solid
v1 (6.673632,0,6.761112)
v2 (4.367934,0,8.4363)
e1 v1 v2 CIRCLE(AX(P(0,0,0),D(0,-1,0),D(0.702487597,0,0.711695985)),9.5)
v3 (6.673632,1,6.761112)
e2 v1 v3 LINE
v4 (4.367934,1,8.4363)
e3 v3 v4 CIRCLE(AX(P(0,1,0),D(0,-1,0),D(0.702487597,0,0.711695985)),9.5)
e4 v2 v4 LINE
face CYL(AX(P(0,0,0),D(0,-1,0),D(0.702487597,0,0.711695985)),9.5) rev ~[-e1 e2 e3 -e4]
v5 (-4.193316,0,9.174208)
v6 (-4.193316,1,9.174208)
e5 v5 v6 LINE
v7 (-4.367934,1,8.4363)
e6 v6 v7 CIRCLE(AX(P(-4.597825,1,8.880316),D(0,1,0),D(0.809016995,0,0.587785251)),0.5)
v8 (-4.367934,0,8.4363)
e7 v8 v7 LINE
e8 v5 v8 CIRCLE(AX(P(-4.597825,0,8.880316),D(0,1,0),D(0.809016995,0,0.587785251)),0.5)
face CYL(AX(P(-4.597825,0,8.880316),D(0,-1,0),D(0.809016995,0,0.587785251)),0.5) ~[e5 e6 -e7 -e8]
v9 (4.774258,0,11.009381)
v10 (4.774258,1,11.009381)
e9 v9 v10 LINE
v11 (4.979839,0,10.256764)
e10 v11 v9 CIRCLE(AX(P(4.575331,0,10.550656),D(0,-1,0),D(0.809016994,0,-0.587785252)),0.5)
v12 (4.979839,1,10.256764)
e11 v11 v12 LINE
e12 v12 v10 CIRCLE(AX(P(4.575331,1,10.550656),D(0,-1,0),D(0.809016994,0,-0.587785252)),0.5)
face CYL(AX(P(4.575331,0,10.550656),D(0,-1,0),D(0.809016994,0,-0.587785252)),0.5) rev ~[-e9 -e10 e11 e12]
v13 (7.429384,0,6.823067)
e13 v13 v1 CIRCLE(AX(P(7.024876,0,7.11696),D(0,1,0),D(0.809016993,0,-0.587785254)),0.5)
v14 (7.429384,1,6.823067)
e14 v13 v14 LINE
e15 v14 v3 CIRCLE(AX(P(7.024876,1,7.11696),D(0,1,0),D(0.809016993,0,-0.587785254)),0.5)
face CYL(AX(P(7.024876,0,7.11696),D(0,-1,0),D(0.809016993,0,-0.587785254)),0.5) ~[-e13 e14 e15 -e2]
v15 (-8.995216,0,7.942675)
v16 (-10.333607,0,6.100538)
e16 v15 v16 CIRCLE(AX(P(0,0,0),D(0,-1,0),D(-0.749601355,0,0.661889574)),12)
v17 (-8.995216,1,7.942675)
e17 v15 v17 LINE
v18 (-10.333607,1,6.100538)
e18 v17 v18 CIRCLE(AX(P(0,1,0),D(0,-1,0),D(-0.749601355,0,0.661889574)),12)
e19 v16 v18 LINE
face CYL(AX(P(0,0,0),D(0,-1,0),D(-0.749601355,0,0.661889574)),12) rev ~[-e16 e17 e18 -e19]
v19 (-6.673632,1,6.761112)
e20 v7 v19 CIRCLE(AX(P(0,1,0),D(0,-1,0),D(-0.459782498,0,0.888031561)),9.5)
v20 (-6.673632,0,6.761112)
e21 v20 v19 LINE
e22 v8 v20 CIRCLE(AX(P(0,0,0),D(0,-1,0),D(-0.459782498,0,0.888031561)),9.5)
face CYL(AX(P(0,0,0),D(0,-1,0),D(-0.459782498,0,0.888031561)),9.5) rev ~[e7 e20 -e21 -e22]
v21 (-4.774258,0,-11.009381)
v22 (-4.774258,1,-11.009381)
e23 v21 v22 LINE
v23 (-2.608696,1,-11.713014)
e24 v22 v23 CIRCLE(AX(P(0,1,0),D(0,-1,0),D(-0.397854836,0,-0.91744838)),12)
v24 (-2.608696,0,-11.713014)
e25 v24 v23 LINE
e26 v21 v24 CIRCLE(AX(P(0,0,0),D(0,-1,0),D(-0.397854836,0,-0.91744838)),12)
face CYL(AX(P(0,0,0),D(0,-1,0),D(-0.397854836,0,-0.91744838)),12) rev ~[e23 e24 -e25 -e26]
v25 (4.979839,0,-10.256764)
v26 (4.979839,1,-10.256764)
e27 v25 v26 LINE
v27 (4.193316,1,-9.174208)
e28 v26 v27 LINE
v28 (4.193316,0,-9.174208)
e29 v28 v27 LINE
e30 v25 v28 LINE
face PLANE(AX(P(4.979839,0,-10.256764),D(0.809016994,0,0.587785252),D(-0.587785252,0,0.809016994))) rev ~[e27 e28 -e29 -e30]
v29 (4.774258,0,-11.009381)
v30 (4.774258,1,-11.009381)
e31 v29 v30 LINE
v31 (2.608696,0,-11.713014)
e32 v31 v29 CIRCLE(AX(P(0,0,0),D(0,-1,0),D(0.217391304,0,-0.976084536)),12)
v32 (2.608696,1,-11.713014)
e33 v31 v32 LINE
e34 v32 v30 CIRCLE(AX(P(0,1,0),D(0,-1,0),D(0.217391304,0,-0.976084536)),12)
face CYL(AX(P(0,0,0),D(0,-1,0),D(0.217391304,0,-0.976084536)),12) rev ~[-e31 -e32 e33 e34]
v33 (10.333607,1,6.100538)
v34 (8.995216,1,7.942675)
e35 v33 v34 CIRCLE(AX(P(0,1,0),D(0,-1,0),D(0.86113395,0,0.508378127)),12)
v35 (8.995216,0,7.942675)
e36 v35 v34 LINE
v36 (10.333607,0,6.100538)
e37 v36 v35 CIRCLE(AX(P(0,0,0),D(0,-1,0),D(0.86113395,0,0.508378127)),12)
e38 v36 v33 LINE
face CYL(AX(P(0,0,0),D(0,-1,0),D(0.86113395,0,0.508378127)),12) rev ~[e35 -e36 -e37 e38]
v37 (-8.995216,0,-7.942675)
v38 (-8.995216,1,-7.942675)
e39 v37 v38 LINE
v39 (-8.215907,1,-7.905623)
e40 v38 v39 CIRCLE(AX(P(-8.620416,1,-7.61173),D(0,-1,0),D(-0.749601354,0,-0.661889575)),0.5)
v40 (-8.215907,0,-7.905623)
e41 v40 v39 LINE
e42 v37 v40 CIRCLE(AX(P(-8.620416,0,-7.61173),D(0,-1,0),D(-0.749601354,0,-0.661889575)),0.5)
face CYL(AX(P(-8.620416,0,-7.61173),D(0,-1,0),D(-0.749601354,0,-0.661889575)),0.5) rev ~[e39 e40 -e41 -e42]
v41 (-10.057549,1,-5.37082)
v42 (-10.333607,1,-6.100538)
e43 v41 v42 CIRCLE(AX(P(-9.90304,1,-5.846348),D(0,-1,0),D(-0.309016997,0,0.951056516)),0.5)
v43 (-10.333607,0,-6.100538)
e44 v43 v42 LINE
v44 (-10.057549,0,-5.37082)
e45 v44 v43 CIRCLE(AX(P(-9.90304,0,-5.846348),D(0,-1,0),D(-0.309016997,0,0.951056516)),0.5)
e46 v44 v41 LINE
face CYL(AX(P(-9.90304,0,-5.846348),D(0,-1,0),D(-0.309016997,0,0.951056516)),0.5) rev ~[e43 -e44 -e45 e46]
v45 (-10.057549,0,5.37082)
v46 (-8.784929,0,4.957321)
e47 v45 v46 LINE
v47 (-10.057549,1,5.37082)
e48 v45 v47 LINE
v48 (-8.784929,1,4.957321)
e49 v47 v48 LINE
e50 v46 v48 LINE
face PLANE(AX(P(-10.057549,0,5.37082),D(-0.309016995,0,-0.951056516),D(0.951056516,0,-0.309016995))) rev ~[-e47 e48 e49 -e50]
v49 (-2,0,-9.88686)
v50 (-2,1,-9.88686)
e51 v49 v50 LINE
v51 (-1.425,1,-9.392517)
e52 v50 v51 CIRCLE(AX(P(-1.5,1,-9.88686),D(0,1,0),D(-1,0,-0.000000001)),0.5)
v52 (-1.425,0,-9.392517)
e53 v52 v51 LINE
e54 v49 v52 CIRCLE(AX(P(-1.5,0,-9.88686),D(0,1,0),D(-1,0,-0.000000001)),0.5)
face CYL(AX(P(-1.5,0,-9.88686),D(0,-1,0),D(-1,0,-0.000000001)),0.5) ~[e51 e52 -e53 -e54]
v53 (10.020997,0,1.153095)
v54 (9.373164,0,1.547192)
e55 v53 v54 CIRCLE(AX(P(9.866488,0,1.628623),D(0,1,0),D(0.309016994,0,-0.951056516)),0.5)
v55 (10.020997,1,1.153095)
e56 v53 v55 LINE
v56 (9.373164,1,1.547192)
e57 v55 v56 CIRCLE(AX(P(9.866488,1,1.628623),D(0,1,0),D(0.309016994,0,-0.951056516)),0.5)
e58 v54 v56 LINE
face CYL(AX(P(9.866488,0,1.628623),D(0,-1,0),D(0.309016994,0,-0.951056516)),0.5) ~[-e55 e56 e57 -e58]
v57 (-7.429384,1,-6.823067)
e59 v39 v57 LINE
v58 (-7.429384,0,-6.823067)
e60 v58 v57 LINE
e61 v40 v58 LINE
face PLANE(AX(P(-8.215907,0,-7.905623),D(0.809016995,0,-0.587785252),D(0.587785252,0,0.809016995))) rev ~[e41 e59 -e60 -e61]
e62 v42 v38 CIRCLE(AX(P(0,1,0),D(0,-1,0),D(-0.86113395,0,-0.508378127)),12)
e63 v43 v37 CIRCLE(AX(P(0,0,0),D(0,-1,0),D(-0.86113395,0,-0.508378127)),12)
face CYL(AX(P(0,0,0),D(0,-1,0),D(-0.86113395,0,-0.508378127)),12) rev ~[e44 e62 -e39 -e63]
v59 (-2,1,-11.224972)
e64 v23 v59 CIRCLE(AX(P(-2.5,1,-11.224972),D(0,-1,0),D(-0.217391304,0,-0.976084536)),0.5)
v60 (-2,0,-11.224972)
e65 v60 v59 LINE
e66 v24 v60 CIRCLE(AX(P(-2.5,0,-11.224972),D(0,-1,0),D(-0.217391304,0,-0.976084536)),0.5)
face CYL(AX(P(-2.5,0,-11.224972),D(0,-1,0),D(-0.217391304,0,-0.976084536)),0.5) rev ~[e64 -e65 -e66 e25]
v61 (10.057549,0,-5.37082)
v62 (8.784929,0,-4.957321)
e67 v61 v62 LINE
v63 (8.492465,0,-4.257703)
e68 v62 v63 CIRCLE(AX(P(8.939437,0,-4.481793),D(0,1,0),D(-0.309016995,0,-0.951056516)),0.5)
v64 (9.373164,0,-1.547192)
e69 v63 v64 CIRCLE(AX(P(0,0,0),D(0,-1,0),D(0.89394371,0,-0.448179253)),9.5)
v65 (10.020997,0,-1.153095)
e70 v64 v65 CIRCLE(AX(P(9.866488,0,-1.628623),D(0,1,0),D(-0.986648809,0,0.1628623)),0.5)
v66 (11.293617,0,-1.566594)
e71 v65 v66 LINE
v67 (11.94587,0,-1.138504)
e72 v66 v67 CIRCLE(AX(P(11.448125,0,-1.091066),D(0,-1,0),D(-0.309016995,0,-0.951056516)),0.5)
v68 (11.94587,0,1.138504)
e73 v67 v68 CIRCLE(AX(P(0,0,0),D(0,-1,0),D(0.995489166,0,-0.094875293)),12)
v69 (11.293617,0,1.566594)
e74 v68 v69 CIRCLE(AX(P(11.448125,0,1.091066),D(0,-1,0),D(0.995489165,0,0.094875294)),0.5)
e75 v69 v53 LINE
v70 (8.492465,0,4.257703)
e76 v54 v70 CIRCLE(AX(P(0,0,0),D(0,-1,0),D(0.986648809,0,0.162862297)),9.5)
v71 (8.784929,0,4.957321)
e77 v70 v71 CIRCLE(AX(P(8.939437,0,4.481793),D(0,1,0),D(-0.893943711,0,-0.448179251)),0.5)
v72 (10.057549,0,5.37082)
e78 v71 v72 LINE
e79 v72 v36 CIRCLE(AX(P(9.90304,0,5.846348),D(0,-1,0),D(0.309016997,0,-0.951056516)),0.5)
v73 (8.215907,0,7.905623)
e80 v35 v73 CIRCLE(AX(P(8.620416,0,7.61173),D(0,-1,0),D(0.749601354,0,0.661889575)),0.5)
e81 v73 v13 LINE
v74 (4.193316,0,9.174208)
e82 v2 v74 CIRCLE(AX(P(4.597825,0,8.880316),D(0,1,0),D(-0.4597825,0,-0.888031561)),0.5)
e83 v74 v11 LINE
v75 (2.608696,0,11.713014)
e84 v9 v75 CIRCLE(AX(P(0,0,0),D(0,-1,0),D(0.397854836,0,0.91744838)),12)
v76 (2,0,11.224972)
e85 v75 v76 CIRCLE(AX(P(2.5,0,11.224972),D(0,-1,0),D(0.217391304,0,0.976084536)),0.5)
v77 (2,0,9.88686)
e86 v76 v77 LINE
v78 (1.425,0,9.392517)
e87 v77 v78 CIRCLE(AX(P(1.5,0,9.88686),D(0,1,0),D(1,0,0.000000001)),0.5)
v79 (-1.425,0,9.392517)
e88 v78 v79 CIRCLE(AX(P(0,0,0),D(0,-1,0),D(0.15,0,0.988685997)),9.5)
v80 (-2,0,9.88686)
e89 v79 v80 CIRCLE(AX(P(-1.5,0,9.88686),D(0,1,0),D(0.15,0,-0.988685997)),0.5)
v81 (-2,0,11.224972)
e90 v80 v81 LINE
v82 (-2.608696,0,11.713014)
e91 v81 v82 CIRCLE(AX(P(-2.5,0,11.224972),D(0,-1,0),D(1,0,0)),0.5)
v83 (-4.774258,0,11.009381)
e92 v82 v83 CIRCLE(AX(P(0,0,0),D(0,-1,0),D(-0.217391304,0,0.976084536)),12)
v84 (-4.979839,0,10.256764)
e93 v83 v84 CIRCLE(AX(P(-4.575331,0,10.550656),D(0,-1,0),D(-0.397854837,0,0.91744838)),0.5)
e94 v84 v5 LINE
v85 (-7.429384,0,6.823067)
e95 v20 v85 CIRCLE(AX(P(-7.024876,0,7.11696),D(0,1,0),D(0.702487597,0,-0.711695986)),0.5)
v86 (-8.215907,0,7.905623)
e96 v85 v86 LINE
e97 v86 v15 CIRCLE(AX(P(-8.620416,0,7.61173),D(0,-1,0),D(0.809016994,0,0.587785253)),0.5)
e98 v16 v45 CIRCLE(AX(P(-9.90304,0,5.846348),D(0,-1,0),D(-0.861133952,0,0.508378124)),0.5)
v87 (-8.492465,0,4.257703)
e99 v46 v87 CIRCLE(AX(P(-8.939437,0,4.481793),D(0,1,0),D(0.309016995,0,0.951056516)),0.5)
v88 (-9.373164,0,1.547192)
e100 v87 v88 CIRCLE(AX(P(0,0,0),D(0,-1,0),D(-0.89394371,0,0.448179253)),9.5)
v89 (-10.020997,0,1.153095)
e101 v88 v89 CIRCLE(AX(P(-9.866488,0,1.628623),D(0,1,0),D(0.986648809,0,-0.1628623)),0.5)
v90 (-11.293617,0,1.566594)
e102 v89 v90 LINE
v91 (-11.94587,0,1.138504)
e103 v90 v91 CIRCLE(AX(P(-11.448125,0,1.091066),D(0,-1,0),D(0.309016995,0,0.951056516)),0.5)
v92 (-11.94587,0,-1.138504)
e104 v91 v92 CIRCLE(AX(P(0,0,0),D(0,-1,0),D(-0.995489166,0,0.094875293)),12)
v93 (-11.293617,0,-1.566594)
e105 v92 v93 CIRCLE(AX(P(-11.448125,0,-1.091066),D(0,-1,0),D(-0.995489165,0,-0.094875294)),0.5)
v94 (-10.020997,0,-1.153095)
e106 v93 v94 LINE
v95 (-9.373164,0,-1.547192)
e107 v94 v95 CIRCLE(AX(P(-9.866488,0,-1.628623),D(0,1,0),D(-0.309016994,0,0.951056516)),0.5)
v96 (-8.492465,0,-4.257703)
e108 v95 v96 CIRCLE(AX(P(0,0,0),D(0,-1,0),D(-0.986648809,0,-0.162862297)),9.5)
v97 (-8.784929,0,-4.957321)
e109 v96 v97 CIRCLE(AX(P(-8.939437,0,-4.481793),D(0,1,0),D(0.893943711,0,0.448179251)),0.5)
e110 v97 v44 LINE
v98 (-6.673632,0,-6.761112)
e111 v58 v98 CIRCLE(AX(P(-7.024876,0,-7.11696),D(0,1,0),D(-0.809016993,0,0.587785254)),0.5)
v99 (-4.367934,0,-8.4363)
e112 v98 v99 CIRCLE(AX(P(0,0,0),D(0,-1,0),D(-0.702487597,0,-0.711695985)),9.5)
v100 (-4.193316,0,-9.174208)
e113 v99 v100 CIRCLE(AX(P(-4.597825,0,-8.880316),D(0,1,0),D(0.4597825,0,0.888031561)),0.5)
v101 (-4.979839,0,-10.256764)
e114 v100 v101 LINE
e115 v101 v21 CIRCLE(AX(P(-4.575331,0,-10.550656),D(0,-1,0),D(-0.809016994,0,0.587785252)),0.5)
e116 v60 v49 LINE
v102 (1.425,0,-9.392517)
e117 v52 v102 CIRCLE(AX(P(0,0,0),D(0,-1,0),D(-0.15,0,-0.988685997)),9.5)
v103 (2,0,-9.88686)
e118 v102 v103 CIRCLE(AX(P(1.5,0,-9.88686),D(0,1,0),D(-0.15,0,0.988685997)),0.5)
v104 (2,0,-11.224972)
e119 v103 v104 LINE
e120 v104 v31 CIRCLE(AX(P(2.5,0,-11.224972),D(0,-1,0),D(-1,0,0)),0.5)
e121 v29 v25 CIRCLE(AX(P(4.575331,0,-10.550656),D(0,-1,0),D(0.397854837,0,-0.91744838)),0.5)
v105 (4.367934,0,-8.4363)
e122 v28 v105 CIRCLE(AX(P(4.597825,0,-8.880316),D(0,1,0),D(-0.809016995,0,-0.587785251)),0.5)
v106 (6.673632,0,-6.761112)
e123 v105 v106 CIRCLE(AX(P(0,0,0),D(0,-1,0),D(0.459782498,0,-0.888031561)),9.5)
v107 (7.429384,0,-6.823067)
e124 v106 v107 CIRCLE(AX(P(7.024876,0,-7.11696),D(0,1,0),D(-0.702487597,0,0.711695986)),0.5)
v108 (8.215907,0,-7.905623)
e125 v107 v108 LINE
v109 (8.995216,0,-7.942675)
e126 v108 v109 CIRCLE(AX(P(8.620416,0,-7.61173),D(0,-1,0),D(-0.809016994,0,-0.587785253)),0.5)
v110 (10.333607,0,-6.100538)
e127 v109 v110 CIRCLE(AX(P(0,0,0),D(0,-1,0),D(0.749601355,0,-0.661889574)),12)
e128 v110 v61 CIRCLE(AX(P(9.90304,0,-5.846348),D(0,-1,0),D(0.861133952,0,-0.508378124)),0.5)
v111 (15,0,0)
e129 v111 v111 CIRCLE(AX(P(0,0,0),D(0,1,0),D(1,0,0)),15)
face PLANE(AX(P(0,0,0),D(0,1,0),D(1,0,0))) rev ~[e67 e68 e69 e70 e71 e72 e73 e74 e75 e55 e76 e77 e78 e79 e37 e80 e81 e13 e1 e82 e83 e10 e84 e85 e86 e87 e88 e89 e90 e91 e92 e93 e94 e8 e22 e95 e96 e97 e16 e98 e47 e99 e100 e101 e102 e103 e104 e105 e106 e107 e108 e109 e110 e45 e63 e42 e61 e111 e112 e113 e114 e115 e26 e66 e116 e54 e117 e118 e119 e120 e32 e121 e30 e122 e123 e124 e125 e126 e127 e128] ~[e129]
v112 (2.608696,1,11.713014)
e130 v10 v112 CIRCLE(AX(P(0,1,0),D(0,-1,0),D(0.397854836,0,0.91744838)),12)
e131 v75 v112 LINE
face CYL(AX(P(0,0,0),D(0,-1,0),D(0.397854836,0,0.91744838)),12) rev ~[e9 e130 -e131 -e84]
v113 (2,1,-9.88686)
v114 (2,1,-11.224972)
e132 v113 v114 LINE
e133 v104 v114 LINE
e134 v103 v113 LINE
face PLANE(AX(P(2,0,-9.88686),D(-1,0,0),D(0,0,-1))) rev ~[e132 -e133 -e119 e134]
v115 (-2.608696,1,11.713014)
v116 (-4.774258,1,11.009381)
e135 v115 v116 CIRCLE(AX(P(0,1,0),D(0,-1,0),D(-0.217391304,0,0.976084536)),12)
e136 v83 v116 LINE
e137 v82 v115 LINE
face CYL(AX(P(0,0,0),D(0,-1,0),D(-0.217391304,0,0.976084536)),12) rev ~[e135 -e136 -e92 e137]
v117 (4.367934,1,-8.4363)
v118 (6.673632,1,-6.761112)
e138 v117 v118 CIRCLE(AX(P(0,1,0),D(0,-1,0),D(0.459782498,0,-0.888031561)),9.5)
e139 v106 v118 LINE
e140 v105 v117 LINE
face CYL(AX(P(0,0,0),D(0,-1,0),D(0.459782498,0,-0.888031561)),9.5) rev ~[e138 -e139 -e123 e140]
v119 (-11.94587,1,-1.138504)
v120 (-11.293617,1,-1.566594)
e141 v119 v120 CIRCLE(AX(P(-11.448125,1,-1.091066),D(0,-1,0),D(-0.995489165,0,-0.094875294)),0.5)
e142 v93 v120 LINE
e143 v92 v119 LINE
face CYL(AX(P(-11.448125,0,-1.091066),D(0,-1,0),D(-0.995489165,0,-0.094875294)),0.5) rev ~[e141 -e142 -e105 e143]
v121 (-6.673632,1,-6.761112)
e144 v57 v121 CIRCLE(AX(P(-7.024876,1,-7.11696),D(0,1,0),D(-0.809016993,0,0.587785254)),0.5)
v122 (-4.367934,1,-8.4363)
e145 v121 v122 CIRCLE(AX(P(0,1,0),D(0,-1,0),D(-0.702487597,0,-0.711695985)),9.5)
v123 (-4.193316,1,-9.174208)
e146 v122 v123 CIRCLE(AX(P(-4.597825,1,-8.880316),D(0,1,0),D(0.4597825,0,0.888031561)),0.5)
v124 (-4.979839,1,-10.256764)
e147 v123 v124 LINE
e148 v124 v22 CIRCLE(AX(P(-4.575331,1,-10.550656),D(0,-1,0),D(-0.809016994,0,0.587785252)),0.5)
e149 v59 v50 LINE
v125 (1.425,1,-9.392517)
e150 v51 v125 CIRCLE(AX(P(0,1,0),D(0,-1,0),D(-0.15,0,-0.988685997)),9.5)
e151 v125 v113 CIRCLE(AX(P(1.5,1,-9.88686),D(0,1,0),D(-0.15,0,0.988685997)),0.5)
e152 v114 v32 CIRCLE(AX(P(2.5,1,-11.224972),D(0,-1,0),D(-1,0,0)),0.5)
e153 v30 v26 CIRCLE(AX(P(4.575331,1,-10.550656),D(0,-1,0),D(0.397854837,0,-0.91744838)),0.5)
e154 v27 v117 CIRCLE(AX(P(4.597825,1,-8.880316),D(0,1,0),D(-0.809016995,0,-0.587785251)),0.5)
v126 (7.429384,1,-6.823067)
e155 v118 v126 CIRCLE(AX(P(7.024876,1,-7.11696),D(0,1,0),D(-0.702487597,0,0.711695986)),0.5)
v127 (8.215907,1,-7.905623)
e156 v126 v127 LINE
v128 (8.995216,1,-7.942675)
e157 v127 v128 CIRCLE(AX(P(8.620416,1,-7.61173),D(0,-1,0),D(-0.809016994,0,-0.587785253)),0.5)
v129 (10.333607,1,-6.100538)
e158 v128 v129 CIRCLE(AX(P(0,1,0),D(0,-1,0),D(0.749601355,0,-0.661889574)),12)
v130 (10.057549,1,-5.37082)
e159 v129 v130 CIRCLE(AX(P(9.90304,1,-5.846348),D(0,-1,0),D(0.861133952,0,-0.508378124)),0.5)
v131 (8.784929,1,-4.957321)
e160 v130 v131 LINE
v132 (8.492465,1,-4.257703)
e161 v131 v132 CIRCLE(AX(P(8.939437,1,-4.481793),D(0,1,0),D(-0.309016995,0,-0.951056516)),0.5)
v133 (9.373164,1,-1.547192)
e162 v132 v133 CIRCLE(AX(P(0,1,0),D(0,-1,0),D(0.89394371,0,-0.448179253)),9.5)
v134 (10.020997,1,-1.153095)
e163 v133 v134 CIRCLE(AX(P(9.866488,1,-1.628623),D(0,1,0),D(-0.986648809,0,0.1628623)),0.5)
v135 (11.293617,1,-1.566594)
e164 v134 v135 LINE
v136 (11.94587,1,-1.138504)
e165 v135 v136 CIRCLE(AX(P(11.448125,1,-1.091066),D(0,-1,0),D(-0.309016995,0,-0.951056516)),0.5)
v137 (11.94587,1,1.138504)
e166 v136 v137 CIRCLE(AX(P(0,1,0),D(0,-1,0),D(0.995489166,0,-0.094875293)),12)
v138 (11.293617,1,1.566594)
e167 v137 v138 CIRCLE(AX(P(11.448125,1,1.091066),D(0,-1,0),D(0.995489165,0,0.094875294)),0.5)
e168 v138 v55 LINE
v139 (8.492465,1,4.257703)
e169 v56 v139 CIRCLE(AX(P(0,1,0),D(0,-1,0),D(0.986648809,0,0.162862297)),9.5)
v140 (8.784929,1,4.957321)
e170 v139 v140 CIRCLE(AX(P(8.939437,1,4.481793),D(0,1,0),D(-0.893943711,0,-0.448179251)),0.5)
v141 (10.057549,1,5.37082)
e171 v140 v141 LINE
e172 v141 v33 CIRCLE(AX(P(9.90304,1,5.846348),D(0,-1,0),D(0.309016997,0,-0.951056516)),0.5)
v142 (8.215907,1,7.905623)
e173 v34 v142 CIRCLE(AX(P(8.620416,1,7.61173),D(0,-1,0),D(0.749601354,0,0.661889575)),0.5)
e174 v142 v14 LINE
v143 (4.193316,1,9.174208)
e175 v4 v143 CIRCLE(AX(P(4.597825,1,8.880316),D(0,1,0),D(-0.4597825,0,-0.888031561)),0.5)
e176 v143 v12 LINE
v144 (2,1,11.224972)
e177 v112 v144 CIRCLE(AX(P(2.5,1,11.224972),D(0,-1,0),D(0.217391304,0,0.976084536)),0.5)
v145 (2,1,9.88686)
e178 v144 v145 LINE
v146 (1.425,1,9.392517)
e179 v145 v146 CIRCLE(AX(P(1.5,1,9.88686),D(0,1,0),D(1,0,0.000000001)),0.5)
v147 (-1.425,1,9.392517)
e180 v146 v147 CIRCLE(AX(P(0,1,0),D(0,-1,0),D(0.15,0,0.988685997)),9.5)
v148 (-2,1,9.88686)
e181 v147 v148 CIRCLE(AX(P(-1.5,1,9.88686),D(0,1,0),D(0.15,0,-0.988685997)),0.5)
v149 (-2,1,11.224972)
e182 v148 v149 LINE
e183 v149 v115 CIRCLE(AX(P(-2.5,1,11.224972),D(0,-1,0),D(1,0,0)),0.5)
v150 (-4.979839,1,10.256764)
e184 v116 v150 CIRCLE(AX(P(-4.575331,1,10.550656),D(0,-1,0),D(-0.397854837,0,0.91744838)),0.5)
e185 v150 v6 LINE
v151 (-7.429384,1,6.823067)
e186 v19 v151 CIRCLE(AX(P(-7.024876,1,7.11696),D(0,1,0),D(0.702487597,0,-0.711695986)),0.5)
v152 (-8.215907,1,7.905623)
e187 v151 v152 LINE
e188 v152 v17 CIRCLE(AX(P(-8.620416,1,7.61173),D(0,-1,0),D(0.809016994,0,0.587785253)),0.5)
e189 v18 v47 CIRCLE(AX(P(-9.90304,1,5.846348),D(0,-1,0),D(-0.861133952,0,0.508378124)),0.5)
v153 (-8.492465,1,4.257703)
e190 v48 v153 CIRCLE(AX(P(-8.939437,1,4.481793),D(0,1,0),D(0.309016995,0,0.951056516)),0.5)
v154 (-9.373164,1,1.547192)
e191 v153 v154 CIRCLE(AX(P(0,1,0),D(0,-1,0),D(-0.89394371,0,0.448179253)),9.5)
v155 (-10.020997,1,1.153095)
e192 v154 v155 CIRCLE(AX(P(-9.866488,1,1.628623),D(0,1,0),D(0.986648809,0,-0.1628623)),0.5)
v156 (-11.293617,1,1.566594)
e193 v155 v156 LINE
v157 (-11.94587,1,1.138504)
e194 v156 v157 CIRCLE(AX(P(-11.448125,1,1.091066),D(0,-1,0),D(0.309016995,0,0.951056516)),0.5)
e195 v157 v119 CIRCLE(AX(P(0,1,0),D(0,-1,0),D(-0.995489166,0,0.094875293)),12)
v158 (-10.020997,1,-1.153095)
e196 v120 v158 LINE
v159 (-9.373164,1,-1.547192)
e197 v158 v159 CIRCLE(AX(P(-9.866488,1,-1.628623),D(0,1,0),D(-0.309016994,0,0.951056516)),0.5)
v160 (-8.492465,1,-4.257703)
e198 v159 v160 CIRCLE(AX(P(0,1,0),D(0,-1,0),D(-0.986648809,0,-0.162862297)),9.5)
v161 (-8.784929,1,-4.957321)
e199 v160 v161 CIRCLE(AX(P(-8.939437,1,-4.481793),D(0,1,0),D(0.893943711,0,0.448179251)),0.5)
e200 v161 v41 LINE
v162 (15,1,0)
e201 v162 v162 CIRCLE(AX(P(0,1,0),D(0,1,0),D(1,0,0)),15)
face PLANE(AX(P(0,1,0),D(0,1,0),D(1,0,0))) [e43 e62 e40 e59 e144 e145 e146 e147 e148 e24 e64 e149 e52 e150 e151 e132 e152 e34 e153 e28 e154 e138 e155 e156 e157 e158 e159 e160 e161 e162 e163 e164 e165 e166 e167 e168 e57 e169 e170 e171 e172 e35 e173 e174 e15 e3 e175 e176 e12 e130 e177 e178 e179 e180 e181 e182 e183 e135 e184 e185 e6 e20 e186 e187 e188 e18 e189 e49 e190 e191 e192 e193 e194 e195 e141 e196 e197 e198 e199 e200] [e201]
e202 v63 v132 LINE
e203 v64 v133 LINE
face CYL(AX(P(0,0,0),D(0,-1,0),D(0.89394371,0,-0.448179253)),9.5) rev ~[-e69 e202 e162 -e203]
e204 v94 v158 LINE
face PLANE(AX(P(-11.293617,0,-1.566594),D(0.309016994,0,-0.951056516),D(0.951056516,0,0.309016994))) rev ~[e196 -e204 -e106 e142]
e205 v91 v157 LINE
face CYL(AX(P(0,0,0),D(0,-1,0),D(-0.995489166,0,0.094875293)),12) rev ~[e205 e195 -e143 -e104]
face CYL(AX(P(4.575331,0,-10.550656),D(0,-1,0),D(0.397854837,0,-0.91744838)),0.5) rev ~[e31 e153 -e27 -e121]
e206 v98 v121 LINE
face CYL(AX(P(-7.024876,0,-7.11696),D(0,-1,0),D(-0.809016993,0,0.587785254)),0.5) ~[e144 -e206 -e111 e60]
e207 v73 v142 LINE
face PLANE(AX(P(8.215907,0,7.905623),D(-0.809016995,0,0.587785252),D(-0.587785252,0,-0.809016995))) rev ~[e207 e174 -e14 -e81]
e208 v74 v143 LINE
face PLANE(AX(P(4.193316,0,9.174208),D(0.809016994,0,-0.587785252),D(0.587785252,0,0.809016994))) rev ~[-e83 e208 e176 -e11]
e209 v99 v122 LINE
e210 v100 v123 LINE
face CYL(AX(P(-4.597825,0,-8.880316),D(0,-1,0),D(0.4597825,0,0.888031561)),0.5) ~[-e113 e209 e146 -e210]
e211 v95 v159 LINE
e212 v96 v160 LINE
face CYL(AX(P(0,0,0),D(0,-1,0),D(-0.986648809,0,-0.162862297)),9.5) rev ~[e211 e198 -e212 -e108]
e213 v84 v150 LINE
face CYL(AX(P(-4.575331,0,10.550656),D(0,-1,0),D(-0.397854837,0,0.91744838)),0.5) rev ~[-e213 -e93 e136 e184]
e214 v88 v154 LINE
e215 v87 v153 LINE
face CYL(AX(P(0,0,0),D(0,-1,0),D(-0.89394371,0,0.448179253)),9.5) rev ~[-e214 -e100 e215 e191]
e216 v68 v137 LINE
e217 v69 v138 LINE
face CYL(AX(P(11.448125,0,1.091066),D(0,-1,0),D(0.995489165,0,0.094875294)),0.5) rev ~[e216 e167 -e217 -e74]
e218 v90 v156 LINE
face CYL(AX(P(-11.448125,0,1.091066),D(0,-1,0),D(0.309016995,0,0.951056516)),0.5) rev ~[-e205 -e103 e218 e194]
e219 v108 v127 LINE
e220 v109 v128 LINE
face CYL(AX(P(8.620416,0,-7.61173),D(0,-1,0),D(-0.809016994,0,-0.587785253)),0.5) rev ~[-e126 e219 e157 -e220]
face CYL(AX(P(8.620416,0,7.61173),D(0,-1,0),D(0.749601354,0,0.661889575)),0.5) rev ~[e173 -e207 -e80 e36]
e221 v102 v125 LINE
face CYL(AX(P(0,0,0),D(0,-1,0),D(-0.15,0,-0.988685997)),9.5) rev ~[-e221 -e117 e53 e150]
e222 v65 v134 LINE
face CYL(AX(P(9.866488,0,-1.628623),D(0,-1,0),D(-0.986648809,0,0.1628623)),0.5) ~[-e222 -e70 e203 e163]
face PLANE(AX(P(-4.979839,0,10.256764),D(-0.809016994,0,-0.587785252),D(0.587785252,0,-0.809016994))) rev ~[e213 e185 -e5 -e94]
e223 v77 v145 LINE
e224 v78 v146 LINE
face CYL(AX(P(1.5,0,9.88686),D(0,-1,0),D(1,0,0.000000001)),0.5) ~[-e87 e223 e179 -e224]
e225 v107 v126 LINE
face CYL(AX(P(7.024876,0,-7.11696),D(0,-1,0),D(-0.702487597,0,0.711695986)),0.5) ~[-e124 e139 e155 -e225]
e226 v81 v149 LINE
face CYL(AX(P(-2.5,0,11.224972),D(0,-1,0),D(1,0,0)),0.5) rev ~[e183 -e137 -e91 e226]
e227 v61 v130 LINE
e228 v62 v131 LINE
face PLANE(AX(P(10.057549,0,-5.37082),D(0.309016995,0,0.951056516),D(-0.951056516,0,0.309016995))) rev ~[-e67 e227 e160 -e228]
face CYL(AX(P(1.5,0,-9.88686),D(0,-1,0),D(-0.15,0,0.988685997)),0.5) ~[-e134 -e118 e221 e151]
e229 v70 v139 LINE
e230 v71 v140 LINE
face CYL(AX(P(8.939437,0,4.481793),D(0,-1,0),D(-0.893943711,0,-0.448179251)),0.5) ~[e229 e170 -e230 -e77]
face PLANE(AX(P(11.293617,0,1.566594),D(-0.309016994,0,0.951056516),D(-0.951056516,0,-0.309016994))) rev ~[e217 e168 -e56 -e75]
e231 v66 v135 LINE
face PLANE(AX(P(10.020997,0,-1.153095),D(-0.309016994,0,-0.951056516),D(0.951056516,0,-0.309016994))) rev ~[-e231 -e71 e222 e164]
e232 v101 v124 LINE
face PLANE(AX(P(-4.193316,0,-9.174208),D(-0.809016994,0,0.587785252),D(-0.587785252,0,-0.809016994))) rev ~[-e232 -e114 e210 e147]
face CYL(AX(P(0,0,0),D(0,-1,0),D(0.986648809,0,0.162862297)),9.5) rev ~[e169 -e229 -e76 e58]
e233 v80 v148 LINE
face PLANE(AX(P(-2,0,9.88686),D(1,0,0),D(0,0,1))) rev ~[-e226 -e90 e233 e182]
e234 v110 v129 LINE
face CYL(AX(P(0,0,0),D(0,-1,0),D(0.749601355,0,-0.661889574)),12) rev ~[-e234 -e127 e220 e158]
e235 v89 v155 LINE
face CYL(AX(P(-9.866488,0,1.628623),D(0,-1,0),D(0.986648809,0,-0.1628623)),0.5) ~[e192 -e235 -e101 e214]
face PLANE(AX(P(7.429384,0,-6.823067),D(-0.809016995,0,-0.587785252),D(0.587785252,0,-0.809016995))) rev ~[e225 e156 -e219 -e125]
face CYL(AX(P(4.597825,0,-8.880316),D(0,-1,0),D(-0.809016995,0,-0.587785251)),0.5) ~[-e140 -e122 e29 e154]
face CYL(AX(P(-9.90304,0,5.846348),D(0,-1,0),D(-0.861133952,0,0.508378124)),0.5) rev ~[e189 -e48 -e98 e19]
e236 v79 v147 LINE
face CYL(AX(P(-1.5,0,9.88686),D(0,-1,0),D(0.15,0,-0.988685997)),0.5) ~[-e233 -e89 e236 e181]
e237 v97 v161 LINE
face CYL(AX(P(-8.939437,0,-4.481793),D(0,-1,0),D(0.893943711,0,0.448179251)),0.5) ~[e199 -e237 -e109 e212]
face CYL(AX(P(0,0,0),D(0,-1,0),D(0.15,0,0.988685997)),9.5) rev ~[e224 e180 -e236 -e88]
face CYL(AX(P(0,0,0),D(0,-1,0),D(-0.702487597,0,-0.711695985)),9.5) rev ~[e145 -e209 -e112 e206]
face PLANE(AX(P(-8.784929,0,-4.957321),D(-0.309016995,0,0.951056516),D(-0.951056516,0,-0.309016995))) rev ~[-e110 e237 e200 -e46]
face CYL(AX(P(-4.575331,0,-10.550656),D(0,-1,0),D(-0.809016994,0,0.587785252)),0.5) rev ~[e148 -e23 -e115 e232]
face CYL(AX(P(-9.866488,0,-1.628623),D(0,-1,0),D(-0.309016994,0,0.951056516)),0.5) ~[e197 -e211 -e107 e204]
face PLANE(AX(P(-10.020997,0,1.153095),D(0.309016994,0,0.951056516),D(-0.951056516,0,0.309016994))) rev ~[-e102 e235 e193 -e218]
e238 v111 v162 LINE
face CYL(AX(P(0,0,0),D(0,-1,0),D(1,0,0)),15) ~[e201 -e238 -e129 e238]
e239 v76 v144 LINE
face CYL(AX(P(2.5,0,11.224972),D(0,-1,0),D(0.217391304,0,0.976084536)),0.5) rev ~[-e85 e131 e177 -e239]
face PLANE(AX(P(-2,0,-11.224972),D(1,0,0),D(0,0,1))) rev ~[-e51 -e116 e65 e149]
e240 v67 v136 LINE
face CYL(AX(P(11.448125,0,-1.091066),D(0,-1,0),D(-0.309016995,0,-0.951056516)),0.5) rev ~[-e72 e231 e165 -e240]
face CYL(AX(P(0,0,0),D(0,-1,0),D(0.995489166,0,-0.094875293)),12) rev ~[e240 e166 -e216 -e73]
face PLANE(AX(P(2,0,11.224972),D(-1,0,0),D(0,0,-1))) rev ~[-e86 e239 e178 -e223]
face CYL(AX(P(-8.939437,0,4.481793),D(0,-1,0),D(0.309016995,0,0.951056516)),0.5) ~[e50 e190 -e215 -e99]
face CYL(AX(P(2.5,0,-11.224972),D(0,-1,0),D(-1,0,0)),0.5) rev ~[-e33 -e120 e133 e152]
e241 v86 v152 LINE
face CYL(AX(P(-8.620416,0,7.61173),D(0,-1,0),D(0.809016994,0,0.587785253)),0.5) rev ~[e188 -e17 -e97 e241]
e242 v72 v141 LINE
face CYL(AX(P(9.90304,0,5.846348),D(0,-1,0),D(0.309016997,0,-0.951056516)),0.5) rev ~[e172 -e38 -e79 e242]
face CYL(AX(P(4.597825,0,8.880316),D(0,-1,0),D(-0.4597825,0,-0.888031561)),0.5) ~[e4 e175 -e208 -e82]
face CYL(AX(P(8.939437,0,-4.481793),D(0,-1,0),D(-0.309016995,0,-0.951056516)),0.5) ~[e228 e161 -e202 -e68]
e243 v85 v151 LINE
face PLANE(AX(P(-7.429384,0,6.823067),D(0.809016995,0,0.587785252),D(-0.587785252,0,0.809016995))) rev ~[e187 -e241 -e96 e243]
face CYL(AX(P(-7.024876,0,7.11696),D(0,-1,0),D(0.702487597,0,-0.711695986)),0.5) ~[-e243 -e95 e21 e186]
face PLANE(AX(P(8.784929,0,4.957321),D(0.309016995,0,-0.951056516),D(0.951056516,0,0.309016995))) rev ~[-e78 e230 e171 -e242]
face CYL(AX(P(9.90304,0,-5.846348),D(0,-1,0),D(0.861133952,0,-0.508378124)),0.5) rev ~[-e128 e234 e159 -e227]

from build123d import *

# Parameters (mm, degrees)
SKETCH1_R           = 15
BOSS_EXTRUDE1_DEPTH = 1


with BuildPart() as part:
    # Sketch1 → Boss-Extrude1 (new body)
    with BuildSketch(Plane(origin=(0, 0, 0), x_dir=(1, 0, 0), z_dir=(0, 1, 0))):
        Circle(SKETCH1_R)
        with BuildLine():
            Line((-2, 11.22497216), (-2, 9.886859967))
            ThreePointArc((-2, 9.886859967), (-1.82596012, 9.507716194), (-1.425, 9.392516968))
            ThreePointArc((-1.425, 9.392516968), (0, 9.5), (1.425, 9.392516968))
            ThreePointArc((1.425, 9.392516968), (1.82596012, 9.507716194), (2, 9.886859967))
            Line((2, 9.886859967), (2, 11.22497216))
            ThreePointArc((2, 11.22497216), (2.187228379, 11.615066909), (2.608695652, 11.713014428))
            ThreePointArc((2.608695652, 11.713014428), (3.708203932, 11.412678196), (4.774258025, 11.00938056))
            ThreePointArc((4.774258025, 11.00938056), (5.057660104, 10.682407105), (4.979839104, 10.256763744))
            Line((4.979839104, 10.256763744), (4.193316491, 9.174208239))
            ThreePointArc((4.193316491, 9.174208239), (4.111262594, 8.765176409), (4.367933739, 8.436299832))
            ThreePointArc((4.367933739, 8.436299832), (5.583959897, 7.685661447), (6.673632173, 6.761111863))
            ThreePointArc((6.673632173, 6.761111863), (7.06572813, 6.618631549), (7.429384469, 6.823067229))
            Line((7.429384469, 6.823067229), (8.215907082, 7.905622735))
            ThreePointArc((8.215907082, 7.905622735), (8.596669963, 8.111165936), (8.995216257, 7.942674896))
            ThreePointArc((8.995216257, 7.942674896), (9.708203932, 7.053423028), (10.333607408, 6.100537513))
            ThreePointArc((10.333607408, 6.100537513), (10.370694331, 5.669430868), (10.05754893, 5.370820192))
            Line((10.05754893, 5.370820192), (8.784928608, 4.957320783))
            ThreePointArc((8.784928608, 4.957320783), (8.478122734, 4.674637153), (8.49246525, 4.257702899))
            ThreePointArc((8.49246525, 4.257702899), (9.035036905, 2.935661447), (9.373163684, 1.547191827))
            ThreePointArc((9.373163684, 1.547191827), (9.60662815, 1.201454611), (10.020996586, 1.153094718))
            Line((10.020996586, 1.153094718), (11.293616907, 1.566594126))
            ThreePointArc((11.293616907, 1.566594126), (11.722475811, 1.509075263), (11.945869987, 1.138503515))
            ThreePointArc((11.945869987, 1.138503515), (12, 0), (11.945869987, -1.138503515))
            ThreePointArc((11.945869987, -1.138503515), (11.722475811, -1.509075263), (11.293616907, -1.566594126))
            Line((11.293616907, -1.566594126), (10.020996586, -1.153094718))
            ThreePointArc((10.020996586, -1.153094718), (9.60662815, -1.201454611), (9.373163684, -1.547191827))
            ThreePointArc((9.373163684, -1.547191827), (9.035036905, -2.935661447), (8.49246525, -4.257702899))
            ThreePointArc((8.49246525, -4.257702899), (8.478122734, -4.674637153), (8.784928608, -4.957320783))
            Line((8.784928608, -4.957320783), (10.05754893, -5.370820192))
            ThreePointArc((10.05754893, -5.370820192), (10.370694331, -5.669430868), (10.333607408, -6.100537513))
            ThreePointArc((10.333607408, -6.100537513), (9.708203932, -7.053423028), (8.995216257, -7.942674896))
            ThreePointArc((8.995216257, -7.942674896), (8.596669963, -8.111165936), (8.215907082, -7.905622735))
            Line((8.215907082, -7.905622735), (7.429384469, -6.823067229))
            ThreePointArc((7.429384469, -6.823067229), (7.06572813, -6.618631549), (6.673632173, -6.761111863))
            ThreePointArc((6.673632173, -6.761111863), (5.583959897, -7.685661447), (4.367933739, -8.436299832))
            ThreePointArc((4.367933739, -8.436299832), (4.111262594, -8.765176409), (4.193316491, -9.174208239))
            Line((4.193316491, -9.174208239), (4.979839104, -10.256763744))
            ThreePointArc((4.979839104, -10.256763744), (5.057660104, -10.682407105), (4.774258025, -11.00938056))
            ThreePointArc((4.774258025, -11.00938056), (3.708203932, -11.412678196), (2.608695652, -11.713014428))
            ThreePointArc((2.608695652, -11.713014428), (2.187228379, -11.615066909), (2, -11.22497216))
            Line((2, -11.22497216), (2, -9.886859967))
            ThreePointArc((2, -9.886859967), (1.82596012, -9.507716194), (1.425, -9.392516968))
            ThreePointArc((1.425, -9.392516968), (0, -9.5), (-1.425, -9.392516968))
            ThreePointArc((-1.425, -9.392516968), (-1.82596012, -9.507716194), (-2, -9.886859967))
            Line((-2, -9.886859967), (-2, -11.22497216))
            ThreePointArc((-2, -11.22497216), (-2.187228379, -11.615066909), (-2.608695652, -11.713014428))
            ThreePointArc((-2.608695652, -11.713014428), (-3.708203932, -11.412678196), (-4.774258025, -11.00938056))
            ThreePointArc((-4.774258025, -11.00938056), (-5.057660104, -10.682407105), (-4.979839104, -10.256763744))
            Line((-4.979839104, -10.256763744), (-4.193316491, -9.174208239))
            ThreePointArc((-4.193316491, -9.174208239), (-4.111262594, -8.765176409), (-4.367933739, -8.436299832))
            ThreePointArc((-4.367933739, -8.436299832), (-5.583959897, -7.685661447), (-6.673632173, -6.761111863))
            ThreePointArc((-6.673632173, -6.761111863), (-7.06572813, -6.618631549), (-7.429384469, -6.823067229))
            Line((-7.429384469, -6.823067229), (-8.215907082, -7.905622735))
            ThreePointArc((-8.215907082, -7.905622735), (-8.596669963, -8.111165936), (-8.995216257, -7.942674896))
            ThreePointArc((-8.995216257, -7.942674896), (-9.708203932, -7.053423028), (-10.333607408, -6.100537513))
            ThreePointArc((-10.333607408, -6.100537513), (-10.370694331, -5.669430868), (-10.05754893, -5.370820192))
            Line((-10.05754893, -5.370820192), (-8.784928608, -4.957320783))
            ThreePointArc((-8.784928608, -4.957320783), (-8.478122734, -4.674637153), (-8.49246525, -4.257702899))
            ThreePointArc((-8.49246525, -4.257702899), (-9.035036905, -2.935661447), (-9.373163684, -1.547191827))
            ThreePointArc((-9.373163684, -1.547191827), (-9.60662815, -1.201454611), (-10.020996586, -1.153094718))
            Line((-10.020996586, -1.153094718), (-11.293616907, -1.566594126))
            ThreePointArc((-11.293616907, -1.566594126), (-11.722475811, -1.509075263), (-11.945869987, -1.138503515))
            ThreePointArc((-11.945869987, -1.138503515), (-12, 0), (-11.945869987, 1.138503515))
            ThreePointArc((-11.945869987, 1.138503515), (-11.722475811, 1.509075263), (-11.293616907, 1.566594126))
            Line((-11.293616907, 1.566594126), (-10.020996586, 1.153094718))
            ThreePointArc((-10.020996586, 1.153094718), (-9.60662815, 1.201454611), (-9.373163684, 1.547191827))
            ThreePointArc((-9.373163684, 1.547191827), (-9.035036905, 2.935661447), (-8.49246525, 4.257702899))
            ThreePointArc((-8.49246525, 4.257702899), (-8.478122734, 4.674637153), (-8.784928608, 4.957320783))
            Line((-8.784928608, 4.957320783), (-10.05754893, 5.370820192))
            ThreePointArc((-10.05754893, 5.370820192), (-10.370694331, 5.669430868), (-10.333607408, 6.100537513))
            ThreePointArc((-10.333607408, 6.100537513), (-9.708203932, 7.053423028), (-8.995216257, 7.942674896))
            ThreePointArc((-8.995216257, 7.942674896), (-8.596669963, 8.111165936), (-8.215907082, 7.905622735))
            Line((-8.215907082, 7.905622735), (-7.429384469, 6.823067229))
            ThreePointArc((-7.429384469, 6.823067229), (-7.06572813, 6.618631549), (-6.673632173, 6.761111863))
            ThreePointArc((-6.673632173, 6.761111863), (-5.583959897, 7.685661447), (-4.367933739, 8.436299832))
            ThreePointArc((-4.367933739, 8.436299832), (-4.111262594, 8.765176409), (-4.193316491, 9.174208239))
            Line((-4.193316491, 9.174208239), (-4.979839104, 10.256763744))
            ThreePointArc((-4.979839104, 10.256763744), (-5.057660104, 10.682407105), (-4.774258025, 11.00938056))
            ThreePointArc((-4.774258025, 11.00938056), (-3.708203932, 11.412678196), (-2.608695652, 11.713014428))
            ThreePointArc((-2.608695652, 11.713014428), (-2.187228379, 11.615066909), (-2, 11.22497216))
        make_face(mode=Mode.SUBTRACT)
    extrude(amount=BOSS_EXTRUDE1_DEPTH)


solid = part.part
